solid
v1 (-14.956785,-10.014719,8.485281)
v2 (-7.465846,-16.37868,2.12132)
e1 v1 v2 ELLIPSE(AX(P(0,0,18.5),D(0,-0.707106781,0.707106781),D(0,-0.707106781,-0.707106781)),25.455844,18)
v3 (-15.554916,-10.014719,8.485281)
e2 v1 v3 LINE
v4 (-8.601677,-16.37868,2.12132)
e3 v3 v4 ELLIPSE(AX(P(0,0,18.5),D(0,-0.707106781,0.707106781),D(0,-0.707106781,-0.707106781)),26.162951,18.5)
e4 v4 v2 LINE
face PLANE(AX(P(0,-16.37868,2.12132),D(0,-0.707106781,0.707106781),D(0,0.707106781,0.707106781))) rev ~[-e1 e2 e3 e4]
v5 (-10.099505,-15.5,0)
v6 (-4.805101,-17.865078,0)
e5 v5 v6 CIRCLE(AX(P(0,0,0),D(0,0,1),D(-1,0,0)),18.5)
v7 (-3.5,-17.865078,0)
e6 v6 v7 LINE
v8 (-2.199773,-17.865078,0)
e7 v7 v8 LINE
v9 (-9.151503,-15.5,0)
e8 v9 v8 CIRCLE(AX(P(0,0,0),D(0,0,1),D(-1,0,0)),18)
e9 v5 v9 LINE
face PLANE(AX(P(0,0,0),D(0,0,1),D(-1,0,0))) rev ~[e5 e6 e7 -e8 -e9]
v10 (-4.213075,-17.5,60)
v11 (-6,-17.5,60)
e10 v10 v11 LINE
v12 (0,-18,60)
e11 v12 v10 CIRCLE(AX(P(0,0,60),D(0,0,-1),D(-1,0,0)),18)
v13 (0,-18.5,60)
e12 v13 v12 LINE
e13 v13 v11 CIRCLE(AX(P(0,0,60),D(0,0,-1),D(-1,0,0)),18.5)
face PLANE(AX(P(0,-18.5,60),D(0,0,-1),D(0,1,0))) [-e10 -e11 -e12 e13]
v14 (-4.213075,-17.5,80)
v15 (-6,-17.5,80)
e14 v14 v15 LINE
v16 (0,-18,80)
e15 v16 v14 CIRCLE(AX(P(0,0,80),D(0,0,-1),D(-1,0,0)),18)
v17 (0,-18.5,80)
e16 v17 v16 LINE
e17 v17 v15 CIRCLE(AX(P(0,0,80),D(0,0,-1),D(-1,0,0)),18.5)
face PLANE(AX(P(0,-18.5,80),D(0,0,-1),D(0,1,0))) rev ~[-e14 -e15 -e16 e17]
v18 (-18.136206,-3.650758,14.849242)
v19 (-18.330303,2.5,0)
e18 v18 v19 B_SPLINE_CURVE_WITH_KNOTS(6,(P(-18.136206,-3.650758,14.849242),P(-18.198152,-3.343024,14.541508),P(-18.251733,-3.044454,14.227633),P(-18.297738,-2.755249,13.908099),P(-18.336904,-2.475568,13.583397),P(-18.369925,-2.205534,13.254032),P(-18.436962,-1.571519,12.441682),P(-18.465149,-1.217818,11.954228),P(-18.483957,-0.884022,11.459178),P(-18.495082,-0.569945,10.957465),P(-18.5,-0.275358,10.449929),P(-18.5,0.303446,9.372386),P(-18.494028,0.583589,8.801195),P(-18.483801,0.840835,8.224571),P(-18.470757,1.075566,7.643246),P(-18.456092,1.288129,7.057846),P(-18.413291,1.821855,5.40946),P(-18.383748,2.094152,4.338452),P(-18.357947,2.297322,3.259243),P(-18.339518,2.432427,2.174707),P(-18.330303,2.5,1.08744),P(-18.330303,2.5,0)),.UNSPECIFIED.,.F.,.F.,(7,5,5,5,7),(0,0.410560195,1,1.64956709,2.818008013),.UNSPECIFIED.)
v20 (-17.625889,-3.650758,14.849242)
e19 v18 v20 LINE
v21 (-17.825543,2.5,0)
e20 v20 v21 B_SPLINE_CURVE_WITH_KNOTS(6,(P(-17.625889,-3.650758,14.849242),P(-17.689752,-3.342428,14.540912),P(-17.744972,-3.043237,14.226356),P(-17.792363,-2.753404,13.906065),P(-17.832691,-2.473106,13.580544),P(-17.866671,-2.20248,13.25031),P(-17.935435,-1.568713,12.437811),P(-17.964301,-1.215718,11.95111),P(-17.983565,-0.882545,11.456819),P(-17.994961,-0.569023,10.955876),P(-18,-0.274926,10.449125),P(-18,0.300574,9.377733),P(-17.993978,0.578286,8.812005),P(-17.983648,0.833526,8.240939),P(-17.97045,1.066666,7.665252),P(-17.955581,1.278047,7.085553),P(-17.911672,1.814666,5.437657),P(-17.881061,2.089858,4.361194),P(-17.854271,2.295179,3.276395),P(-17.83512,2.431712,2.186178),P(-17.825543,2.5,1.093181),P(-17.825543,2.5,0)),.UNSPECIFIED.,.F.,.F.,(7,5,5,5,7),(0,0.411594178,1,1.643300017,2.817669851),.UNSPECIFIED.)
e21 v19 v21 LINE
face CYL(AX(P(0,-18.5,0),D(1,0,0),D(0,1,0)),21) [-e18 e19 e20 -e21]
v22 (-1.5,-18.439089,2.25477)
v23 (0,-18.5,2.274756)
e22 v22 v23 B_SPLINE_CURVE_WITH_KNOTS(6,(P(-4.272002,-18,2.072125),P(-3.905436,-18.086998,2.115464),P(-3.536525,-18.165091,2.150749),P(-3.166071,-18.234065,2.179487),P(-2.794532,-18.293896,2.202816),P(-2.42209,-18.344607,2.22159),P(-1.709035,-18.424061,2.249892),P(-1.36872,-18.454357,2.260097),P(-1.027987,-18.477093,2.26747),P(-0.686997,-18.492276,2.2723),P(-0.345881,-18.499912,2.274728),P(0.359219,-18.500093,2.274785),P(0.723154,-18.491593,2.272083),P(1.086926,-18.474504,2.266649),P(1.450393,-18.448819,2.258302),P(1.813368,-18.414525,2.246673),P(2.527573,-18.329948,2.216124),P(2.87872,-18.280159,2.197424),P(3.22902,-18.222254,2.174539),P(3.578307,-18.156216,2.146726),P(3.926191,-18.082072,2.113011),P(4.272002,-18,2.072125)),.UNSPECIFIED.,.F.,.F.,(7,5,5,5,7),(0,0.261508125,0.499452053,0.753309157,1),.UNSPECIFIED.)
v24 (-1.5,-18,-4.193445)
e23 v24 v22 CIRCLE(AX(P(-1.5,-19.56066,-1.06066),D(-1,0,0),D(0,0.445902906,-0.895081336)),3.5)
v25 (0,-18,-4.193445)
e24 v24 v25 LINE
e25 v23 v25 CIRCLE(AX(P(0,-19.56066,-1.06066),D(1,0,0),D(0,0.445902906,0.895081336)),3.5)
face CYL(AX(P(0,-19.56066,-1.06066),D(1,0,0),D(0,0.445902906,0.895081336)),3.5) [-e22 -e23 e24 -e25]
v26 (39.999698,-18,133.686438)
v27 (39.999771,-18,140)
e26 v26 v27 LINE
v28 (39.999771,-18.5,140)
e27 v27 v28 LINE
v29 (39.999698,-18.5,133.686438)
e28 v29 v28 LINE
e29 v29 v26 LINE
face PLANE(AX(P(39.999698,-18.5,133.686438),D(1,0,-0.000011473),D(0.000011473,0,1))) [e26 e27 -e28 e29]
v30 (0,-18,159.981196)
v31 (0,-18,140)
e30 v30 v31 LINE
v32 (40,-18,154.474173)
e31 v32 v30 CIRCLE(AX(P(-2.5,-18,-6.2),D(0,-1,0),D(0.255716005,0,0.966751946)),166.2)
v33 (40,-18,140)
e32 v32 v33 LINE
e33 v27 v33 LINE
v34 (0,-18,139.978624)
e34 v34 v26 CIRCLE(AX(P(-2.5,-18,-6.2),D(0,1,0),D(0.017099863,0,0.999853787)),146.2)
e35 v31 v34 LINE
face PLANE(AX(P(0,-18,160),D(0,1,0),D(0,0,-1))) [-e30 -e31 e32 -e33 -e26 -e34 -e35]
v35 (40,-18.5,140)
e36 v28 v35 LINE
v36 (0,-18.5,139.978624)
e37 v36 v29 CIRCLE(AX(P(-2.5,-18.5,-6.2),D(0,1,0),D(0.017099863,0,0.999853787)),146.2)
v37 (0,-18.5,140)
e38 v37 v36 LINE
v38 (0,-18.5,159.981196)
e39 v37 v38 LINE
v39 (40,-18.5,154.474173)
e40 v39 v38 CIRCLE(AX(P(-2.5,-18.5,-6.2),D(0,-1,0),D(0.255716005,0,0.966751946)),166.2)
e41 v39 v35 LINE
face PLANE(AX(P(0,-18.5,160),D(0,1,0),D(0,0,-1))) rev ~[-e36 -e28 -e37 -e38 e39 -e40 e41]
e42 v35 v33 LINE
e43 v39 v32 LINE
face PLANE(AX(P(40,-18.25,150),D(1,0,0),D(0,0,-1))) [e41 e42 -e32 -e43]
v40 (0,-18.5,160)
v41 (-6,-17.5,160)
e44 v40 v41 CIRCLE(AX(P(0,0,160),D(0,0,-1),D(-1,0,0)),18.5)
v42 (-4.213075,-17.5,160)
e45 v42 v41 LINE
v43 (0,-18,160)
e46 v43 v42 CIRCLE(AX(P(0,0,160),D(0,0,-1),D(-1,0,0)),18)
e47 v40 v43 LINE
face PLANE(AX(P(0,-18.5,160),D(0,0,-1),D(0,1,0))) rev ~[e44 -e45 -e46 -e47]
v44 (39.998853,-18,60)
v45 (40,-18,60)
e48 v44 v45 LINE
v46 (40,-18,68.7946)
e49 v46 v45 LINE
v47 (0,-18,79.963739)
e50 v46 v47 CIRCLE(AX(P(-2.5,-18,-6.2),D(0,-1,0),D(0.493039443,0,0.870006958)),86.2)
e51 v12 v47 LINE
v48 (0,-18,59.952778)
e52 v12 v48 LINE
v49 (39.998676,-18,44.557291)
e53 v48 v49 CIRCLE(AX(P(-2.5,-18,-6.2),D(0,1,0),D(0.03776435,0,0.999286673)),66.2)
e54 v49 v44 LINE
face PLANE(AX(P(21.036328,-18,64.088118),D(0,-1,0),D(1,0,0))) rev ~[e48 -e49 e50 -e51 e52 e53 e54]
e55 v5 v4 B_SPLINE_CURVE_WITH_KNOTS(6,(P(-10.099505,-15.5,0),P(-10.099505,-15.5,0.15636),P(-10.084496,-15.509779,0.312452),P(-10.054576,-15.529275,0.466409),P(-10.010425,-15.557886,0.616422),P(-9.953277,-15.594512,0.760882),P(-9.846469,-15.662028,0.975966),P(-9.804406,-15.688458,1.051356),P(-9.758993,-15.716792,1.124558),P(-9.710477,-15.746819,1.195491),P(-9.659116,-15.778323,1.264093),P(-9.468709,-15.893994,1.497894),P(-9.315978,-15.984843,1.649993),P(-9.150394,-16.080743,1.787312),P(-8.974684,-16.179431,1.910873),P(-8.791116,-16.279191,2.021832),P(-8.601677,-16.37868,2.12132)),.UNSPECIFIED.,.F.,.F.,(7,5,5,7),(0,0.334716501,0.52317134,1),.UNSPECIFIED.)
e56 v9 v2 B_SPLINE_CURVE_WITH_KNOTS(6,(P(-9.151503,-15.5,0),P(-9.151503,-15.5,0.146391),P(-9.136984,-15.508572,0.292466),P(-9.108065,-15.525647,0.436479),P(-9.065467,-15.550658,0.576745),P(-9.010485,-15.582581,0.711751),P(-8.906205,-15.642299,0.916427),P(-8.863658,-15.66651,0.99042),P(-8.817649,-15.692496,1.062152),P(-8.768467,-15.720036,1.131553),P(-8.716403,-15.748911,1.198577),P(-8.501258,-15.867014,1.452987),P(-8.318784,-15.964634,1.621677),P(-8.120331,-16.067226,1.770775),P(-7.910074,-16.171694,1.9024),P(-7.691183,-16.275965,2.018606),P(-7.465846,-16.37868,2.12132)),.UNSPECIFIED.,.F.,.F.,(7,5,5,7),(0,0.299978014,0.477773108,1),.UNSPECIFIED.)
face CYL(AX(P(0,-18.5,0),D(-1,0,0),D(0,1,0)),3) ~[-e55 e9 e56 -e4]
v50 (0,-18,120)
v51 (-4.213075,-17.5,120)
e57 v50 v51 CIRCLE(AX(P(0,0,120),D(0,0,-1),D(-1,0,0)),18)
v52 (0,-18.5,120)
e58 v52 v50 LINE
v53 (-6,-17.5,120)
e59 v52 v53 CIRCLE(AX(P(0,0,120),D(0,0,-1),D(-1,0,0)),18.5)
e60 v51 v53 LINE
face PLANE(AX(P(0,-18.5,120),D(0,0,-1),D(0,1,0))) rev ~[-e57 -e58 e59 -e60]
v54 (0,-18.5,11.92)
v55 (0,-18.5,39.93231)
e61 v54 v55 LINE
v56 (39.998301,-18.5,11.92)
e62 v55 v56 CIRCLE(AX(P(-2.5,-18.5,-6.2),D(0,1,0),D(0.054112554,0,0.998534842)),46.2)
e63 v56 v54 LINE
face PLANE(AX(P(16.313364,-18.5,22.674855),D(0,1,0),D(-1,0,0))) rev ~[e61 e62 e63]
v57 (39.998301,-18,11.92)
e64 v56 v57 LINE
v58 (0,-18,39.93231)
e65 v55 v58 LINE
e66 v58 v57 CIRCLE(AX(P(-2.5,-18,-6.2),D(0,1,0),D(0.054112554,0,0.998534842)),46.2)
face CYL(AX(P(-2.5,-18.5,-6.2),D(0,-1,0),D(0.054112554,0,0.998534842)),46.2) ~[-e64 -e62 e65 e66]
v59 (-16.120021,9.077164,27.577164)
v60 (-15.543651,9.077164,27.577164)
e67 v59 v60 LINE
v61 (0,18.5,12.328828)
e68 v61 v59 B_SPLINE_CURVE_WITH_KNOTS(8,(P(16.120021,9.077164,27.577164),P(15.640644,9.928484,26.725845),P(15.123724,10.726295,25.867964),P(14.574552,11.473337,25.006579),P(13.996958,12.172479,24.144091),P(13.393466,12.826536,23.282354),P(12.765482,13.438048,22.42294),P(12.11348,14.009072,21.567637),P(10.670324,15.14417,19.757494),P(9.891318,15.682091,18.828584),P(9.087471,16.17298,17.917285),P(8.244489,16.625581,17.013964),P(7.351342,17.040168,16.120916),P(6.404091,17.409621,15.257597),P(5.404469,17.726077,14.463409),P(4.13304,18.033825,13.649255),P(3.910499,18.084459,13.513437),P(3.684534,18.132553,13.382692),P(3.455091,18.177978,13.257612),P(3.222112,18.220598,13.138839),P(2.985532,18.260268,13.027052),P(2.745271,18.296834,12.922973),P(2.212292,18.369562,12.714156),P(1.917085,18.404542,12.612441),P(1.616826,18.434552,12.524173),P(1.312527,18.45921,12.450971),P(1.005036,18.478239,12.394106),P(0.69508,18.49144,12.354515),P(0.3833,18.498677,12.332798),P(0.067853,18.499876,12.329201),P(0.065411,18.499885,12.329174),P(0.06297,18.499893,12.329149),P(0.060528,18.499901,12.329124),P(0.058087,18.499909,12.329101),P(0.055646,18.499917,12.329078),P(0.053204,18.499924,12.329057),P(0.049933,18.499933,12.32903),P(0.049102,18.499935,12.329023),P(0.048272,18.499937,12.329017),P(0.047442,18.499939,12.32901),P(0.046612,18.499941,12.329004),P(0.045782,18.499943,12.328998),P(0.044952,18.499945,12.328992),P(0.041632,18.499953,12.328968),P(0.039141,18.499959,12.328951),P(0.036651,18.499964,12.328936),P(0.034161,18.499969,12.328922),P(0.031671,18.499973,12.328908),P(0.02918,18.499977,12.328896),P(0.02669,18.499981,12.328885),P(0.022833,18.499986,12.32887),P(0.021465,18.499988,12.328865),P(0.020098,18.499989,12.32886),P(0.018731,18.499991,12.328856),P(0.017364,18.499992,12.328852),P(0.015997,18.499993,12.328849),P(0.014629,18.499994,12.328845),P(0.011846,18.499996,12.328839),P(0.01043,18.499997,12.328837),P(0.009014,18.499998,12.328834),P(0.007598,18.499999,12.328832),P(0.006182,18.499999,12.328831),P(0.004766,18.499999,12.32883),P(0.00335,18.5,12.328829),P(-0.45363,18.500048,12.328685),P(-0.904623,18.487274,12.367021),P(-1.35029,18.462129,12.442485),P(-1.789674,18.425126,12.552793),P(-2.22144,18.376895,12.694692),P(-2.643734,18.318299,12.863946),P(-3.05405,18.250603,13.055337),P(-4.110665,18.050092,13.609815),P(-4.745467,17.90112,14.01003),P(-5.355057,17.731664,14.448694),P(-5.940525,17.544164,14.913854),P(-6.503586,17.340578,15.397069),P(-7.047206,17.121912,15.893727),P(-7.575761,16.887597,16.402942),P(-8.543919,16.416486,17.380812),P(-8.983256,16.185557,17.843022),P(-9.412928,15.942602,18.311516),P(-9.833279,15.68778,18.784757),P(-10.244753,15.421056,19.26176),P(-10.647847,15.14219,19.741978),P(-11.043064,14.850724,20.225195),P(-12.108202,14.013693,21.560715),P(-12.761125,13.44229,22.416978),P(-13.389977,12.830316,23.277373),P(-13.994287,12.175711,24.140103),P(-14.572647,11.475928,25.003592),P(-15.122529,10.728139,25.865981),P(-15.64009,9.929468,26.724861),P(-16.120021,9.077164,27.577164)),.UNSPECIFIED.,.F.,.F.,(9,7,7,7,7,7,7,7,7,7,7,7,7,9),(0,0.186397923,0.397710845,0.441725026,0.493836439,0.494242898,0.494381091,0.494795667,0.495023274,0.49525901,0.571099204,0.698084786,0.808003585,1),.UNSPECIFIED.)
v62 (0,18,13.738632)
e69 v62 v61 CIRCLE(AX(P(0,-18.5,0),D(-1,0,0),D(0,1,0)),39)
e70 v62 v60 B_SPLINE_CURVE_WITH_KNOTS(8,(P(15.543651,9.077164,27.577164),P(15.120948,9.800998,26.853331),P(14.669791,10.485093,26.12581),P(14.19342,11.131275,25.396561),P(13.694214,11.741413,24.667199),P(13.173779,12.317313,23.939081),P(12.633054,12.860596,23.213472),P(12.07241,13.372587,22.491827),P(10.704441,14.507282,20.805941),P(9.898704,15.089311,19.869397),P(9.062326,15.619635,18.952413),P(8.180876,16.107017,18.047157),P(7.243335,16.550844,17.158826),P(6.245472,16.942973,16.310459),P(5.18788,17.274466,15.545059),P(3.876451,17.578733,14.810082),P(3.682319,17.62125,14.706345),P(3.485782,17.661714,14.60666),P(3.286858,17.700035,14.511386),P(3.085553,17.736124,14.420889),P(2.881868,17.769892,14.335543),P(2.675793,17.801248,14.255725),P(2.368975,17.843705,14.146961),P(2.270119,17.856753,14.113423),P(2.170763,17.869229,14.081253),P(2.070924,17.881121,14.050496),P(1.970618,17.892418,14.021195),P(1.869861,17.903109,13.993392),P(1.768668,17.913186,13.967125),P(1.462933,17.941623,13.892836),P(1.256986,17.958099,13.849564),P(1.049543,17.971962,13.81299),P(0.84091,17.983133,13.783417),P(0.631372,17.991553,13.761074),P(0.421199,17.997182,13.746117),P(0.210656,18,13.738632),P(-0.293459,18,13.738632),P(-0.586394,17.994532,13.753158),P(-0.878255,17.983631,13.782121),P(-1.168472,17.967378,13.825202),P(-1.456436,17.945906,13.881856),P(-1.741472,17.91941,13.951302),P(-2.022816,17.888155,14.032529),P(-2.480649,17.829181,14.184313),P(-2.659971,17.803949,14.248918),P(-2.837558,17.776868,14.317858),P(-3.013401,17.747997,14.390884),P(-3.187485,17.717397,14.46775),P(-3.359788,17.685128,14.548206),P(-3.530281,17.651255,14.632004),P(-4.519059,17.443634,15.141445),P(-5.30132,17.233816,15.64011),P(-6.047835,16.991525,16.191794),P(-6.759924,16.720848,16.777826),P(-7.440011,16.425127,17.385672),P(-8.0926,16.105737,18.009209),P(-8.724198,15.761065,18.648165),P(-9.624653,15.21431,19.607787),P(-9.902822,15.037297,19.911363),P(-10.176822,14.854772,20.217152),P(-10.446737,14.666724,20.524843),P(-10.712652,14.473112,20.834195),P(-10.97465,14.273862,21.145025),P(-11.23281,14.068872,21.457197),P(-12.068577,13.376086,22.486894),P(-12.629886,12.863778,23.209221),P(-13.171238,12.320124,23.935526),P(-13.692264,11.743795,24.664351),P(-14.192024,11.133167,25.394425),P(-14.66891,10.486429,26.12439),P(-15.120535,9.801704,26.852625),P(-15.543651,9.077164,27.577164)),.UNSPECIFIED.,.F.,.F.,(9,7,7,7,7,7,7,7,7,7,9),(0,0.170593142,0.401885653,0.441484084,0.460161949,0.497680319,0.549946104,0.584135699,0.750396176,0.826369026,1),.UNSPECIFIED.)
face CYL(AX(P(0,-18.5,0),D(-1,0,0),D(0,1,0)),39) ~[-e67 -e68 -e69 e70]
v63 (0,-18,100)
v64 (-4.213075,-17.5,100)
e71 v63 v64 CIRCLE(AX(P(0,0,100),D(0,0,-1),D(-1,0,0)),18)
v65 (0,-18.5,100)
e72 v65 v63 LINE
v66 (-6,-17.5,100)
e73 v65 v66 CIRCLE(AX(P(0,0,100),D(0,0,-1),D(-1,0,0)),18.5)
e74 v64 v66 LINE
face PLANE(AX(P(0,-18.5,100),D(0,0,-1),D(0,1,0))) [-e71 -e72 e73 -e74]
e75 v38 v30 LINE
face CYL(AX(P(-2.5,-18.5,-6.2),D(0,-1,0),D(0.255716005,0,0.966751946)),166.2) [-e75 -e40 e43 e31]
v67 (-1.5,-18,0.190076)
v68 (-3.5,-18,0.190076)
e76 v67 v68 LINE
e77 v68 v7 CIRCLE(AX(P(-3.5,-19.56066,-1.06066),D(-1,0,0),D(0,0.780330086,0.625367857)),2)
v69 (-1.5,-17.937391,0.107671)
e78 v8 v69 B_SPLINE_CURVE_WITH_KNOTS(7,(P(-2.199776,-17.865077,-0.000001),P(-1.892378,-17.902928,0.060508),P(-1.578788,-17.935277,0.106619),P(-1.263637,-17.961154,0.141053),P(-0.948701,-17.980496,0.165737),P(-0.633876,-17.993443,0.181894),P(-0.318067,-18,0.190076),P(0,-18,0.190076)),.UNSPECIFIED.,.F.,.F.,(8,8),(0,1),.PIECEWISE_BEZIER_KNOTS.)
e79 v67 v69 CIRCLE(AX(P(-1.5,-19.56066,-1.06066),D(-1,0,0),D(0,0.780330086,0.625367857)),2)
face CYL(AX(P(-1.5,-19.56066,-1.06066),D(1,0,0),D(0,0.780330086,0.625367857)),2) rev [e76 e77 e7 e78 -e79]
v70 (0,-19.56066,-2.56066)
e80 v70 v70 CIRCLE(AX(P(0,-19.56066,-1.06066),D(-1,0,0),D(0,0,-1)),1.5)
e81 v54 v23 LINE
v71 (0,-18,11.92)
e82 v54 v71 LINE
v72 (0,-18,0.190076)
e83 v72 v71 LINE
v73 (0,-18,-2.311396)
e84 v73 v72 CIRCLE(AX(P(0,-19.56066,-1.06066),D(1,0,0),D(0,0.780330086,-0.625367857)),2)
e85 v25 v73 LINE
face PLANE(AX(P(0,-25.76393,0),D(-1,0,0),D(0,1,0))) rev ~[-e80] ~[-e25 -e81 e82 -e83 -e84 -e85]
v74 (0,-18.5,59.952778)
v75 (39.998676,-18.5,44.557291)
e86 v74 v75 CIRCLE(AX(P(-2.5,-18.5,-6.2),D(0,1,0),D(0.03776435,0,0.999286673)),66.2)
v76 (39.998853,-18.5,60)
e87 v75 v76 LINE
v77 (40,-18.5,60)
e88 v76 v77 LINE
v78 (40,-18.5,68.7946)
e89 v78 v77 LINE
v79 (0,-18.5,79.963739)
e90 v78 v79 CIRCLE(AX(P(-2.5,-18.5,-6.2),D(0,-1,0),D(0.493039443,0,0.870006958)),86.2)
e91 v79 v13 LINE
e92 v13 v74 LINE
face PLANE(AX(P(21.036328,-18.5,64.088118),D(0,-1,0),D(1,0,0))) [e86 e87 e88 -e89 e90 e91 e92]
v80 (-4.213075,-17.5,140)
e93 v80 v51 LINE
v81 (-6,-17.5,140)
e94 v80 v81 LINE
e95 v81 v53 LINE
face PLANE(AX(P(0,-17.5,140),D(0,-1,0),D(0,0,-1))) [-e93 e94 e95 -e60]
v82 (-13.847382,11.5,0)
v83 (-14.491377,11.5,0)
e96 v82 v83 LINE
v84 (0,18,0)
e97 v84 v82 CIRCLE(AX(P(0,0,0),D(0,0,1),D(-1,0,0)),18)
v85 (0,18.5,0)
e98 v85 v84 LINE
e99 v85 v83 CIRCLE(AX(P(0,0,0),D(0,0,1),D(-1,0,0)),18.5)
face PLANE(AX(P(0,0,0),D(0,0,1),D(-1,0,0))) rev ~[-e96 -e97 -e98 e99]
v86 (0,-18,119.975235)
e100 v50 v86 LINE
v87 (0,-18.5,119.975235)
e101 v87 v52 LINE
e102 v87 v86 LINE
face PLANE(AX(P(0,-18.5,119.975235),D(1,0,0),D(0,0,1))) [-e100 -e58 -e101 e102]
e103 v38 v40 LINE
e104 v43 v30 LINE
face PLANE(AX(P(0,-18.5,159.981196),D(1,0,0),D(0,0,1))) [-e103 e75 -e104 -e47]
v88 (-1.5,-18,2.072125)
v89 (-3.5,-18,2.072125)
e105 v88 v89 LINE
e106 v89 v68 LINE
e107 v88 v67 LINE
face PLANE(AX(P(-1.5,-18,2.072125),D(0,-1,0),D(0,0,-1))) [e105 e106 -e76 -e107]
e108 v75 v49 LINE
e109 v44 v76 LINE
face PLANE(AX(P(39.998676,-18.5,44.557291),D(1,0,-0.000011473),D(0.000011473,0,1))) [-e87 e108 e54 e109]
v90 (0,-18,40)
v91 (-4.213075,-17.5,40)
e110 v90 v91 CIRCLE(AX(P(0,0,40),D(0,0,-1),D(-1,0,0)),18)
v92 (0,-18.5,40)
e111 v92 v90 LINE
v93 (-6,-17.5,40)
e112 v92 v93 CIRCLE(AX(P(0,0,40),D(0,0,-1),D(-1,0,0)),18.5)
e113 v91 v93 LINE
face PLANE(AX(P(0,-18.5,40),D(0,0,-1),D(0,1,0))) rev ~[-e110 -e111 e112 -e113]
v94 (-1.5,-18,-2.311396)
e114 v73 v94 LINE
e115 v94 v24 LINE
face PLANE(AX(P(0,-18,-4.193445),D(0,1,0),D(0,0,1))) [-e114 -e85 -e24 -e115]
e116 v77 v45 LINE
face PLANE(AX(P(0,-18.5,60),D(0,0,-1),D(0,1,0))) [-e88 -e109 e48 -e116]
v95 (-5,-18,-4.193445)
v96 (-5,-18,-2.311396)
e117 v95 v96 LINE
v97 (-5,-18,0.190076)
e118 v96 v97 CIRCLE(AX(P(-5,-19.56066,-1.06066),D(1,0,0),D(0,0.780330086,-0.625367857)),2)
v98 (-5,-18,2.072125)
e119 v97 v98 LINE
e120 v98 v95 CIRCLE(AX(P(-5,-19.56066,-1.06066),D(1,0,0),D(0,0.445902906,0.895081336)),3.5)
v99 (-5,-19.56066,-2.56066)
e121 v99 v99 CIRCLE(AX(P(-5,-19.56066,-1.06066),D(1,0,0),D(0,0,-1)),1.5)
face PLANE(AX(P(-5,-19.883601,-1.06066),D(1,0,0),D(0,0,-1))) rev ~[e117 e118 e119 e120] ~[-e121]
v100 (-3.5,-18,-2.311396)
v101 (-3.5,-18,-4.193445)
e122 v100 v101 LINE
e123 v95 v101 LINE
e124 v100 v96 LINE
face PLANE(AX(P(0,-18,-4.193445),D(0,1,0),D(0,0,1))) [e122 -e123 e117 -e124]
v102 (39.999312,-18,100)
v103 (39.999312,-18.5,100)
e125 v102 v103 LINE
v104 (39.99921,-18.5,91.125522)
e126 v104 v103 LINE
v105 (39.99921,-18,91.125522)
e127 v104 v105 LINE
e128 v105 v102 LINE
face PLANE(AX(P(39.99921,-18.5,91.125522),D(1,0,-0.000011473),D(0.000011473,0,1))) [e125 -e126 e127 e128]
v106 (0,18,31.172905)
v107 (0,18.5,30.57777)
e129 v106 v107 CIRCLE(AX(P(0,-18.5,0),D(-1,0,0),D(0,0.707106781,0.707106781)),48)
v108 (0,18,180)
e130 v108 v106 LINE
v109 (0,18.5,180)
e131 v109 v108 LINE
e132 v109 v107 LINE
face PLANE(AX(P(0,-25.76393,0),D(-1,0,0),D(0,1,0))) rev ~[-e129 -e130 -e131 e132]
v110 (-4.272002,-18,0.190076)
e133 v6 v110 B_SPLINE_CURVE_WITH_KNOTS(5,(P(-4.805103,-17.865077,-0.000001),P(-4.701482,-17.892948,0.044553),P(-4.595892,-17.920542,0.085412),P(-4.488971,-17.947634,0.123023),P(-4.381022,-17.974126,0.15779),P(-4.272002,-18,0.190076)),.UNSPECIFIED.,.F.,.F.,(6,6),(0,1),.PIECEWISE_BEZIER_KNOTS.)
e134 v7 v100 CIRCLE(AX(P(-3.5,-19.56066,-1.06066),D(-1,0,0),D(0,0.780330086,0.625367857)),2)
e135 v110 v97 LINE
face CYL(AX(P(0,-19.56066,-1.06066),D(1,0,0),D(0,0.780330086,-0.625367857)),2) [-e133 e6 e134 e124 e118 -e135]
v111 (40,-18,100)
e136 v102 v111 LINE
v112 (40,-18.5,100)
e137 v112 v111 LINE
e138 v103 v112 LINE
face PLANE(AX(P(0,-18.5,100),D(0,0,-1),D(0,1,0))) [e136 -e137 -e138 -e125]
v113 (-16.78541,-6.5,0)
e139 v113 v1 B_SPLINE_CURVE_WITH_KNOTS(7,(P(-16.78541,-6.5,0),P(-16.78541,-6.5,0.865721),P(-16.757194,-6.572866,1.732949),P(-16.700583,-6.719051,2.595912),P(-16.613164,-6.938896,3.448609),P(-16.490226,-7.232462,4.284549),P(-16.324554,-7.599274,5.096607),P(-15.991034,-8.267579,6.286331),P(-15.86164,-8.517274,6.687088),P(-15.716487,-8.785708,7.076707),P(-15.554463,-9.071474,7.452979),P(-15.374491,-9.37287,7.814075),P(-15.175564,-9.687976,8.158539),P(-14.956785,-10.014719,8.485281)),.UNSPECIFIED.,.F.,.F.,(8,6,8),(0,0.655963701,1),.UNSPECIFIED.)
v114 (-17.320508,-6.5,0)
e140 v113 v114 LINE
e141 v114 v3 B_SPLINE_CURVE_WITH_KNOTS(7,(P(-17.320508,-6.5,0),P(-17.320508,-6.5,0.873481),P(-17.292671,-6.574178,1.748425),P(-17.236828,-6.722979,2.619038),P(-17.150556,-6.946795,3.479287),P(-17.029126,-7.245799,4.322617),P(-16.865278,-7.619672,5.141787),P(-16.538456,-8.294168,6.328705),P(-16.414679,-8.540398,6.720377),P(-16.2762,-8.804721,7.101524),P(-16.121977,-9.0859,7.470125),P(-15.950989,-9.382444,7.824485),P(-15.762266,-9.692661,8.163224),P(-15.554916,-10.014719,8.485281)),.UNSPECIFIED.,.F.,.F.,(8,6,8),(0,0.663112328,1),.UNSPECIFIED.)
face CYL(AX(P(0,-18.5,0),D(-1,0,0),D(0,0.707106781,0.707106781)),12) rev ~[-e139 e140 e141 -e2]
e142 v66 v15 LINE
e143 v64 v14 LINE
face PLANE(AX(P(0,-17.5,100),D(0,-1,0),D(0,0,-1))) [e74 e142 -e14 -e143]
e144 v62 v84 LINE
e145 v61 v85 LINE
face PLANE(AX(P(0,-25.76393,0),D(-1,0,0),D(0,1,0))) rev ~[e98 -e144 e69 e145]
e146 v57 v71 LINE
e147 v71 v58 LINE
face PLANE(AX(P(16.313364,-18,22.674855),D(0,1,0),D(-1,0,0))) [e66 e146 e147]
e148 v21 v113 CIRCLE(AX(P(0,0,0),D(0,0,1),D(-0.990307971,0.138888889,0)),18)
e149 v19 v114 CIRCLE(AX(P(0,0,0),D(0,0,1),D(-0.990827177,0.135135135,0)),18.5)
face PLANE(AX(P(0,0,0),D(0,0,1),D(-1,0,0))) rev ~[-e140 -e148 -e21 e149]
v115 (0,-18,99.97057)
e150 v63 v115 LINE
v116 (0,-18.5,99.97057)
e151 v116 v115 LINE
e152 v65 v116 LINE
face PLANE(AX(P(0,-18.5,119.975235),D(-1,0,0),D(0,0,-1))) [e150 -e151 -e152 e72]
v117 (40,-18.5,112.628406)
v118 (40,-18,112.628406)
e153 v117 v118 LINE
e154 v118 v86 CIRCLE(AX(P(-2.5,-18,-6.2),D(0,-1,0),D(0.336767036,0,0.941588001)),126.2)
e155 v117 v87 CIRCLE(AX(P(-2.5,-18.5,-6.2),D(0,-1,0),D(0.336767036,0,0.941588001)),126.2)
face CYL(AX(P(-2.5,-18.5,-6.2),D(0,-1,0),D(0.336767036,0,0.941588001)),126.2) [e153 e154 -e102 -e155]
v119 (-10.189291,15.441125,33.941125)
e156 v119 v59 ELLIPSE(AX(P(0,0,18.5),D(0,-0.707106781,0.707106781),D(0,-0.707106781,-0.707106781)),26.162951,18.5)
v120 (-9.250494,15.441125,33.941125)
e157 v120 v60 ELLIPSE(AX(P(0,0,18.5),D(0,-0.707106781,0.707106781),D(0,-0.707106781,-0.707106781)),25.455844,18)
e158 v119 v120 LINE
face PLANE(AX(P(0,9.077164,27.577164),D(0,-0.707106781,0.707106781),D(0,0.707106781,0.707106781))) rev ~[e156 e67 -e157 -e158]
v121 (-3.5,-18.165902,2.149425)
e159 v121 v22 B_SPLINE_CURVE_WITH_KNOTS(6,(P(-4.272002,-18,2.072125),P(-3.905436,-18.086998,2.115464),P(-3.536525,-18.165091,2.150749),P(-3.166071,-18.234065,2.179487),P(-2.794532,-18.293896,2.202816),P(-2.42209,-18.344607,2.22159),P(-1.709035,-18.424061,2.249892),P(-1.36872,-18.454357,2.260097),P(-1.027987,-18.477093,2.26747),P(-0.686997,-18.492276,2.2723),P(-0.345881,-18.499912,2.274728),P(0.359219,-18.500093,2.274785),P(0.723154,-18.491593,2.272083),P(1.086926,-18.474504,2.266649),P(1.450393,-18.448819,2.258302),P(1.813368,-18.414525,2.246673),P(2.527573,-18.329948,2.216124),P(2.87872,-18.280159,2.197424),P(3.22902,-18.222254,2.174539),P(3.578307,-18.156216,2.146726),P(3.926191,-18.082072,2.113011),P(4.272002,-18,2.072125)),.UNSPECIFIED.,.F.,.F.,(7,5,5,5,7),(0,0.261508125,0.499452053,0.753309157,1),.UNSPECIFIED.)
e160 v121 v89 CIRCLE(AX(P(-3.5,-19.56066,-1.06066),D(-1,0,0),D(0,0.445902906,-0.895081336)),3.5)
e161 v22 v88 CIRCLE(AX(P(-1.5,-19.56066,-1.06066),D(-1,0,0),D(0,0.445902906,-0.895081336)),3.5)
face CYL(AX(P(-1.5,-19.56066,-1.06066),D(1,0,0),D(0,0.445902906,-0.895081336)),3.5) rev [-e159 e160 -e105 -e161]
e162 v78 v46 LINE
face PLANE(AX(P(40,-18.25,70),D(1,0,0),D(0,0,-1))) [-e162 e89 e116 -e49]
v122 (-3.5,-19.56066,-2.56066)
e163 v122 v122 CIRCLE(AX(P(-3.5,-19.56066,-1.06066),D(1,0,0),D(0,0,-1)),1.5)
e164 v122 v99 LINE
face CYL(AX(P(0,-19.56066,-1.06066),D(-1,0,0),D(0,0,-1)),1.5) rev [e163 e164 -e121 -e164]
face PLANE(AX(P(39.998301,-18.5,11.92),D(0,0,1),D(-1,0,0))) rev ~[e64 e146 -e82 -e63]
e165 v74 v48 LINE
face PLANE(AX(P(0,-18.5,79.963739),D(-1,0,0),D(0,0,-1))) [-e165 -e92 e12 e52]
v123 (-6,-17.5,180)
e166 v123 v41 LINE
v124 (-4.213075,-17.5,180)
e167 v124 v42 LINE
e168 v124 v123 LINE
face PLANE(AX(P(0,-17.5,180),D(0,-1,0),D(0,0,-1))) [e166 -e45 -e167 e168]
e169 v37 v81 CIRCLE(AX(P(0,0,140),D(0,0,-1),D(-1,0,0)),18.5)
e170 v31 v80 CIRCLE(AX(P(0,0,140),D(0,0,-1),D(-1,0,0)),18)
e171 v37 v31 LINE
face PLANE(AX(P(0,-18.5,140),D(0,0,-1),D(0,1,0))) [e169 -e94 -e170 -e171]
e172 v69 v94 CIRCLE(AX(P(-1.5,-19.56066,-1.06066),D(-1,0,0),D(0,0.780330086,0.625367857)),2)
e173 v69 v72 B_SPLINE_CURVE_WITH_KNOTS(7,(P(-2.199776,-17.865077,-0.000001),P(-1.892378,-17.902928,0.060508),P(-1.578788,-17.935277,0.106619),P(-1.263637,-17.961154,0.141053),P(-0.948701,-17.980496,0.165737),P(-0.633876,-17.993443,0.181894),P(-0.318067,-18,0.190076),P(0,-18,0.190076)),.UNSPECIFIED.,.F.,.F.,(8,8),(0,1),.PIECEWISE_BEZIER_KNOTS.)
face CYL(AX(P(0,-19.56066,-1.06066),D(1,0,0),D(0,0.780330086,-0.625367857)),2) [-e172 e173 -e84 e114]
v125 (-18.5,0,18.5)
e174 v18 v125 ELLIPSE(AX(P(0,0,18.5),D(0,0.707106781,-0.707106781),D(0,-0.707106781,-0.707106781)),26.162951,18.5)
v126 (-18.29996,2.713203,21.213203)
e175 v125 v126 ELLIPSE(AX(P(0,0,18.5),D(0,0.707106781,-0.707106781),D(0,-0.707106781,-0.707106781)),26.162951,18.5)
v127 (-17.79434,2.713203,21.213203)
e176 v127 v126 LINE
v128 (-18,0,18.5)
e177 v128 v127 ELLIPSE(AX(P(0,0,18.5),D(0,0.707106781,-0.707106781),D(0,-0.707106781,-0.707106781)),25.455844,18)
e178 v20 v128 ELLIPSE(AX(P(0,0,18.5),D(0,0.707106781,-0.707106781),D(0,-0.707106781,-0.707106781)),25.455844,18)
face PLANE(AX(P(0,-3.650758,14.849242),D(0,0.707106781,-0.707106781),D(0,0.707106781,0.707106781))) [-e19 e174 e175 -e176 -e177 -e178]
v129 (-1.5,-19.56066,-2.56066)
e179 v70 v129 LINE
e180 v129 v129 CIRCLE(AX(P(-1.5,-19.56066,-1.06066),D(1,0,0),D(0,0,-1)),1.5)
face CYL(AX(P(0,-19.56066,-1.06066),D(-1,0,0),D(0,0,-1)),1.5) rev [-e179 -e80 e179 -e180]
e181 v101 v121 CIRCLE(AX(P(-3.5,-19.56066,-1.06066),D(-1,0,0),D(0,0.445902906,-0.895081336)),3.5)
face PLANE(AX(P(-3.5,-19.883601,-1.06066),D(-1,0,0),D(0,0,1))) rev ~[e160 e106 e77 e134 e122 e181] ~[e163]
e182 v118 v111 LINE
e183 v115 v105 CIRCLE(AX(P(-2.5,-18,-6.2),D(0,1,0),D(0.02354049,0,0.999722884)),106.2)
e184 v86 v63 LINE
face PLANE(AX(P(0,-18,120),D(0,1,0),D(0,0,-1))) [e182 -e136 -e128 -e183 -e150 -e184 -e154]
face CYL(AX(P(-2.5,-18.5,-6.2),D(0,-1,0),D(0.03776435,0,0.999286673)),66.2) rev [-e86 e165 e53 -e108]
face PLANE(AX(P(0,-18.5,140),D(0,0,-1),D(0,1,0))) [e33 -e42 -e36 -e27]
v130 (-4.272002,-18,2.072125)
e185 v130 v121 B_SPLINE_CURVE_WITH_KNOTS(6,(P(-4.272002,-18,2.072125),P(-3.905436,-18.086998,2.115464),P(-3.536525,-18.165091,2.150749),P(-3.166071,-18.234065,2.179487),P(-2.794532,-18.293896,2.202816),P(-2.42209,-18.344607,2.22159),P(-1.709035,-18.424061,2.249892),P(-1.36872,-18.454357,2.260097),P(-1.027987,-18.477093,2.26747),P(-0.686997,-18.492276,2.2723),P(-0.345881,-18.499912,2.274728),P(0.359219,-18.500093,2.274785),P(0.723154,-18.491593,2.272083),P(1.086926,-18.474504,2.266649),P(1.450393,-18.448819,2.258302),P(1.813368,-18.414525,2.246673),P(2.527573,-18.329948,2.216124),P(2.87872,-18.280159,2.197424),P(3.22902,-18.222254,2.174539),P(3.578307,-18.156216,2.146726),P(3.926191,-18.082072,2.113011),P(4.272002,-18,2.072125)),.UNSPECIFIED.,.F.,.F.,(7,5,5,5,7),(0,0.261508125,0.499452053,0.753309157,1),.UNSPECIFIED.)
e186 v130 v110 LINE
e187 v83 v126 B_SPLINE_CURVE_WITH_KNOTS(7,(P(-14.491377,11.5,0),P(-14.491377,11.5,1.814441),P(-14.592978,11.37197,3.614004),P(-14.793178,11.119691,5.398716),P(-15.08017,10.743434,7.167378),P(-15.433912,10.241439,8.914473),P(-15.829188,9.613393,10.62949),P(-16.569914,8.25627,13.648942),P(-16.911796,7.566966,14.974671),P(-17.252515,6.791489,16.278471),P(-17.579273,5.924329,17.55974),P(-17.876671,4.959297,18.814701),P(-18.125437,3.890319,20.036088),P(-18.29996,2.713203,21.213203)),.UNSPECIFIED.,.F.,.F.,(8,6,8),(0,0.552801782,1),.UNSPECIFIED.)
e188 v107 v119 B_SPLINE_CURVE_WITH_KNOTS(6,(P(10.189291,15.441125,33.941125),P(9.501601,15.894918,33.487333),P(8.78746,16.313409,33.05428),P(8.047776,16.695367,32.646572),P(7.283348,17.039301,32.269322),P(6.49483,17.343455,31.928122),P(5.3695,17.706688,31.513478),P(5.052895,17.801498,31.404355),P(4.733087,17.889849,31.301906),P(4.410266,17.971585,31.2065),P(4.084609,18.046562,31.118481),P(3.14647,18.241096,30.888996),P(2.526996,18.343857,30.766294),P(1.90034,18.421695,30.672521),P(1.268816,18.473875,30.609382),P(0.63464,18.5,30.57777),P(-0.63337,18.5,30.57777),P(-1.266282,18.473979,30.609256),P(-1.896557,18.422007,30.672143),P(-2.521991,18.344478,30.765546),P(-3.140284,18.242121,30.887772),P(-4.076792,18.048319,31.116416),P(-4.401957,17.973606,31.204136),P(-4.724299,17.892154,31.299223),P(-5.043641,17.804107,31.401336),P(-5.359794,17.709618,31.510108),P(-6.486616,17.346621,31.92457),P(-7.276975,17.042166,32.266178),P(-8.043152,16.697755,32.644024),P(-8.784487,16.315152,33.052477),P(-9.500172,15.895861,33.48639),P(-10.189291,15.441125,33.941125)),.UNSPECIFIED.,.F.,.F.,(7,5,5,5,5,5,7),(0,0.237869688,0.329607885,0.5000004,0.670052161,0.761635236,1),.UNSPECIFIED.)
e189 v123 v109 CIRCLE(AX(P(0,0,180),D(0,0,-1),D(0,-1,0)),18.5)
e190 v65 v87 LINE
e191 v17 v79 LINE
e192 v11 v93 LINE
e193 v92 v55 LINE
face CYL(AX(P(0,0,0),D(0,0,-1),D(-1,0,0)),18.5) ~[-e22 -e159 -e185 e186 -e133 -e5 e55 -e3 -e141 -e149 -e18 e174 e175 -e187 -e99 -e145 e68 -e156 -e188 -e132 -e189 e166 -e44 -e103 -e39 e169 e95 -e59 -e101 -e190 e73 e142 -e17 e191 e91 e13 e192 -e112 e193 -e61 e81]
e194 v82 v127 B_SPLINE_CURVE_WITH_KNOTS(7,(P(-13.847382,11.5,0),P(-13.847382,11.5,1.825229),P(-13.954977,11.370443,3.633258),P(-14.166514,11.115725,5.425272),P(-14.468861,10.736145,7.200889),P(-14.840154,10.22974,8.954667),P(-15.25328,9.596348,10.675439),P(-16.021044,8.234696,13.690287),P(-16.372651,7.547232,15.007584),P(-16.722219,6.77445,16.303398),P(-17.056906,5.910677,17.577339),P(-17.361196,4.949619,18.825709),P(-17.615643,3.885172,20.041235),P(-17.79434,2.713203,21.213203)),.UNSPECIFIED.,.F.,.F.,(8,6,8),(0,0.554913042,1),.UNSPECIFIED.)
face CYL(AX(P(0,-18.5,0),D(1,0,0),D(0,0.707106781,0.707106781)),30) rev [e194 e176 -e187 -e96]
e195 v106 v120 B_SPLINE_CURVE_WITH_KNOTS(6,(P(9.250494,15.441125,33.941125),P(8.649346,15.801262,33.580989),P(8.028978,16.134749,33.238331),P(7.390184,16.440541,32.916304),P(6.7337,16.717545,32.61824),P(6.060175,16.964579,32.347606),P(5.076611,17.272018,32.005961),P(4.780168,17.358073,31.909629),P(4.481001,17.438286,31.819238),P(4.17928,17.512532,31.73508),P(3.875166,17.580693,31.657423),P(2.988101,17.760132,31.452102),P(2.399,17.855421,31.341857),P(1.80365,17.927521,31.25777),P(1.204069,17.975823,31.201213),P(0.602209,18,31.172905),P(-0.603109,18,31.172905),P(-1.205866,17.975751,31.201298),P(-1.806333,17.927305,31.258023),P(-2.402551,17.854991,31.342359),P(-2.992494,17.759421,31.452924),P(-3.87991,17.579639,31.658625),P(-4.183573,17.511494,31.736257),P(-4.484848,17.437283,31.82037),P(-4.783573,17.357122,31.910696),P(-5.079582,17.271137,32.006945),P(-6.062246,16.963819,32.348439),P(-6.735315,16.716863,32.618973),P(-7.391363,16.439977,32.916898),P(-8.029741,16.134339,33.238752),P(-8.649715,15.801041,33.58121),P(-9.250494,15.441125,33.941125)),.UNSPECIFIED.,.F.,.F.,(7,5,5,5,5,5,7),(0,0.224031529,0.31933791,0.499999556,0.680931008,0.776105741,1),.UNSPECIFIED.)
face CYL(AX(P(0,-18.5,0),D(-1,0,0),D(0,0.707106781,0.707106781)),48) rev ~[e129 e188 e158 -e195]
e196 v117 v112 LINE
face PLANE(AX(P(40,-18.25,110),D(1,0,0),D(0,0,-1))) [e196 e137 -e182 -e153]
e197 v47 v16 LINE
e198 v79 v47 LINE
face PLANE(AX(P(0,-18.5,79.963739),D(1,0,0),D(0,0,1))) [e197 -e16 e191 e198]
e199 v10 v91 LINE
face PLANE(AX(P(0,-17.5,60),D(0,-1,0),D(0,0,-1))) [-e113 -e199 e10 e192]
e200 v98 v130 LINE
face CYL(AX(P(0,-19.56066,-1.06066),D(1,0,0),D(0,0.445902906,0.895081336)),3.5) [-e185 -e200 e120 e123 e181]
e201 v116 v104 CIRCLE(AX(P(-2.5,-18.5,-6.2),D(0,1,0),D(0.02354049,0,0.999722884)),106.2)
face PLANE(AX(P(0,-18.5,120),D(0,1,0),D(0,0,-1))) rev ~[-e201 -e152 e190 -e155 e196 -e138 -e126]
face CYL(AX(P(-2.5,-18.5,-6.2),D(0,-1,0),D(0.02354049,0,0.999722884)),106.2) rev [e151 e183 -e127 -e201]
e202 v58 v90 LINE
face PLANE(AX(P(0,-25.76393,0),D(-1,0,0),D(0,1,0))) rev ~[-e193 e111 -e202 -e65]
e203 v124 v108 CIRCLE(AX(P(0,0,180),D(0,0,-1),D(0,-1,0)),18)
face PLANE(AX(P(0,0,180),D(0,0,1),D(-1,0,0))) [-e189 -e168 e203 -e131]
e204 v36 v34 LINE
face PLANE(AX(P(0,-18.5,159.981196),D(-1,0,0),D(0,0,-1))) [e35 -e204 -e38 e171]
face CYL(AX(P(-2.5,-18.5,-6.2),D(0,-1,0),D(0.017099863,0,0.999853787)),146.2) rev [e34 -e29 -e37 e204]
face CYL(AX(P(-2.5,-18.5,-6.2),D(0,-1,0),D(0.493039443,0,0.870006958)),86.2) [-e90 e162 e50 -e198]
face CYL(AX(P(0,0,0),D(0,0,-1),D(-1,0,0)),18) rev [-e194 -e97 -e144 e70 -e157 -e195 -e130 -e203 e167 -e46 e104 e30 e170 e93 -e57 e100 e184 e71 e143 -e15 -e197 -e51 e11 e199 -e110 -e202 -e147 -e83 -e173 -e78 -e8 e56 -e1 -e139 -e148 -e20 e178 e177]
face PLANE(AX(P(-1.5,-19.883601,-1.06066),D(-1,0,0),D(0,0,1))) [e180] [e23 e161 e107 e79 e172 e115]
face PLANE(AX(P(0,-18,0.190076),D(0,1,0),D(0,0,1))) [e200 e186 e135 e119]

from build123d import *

# Parameters (mm, degrees)
SKETCH_1_R           = 18.5
SKETCH_1_R_2         = 18
EXTRUDE_1_DEPTH      = 180
CUT_EXTRUDE_1_DEPTH  = 30
SKETCH_5_R           = 1.5
EXTRUDE_2_DEPTH      = 5
SKETCH_8_R           = 1.5
CUT_EXTRUDE_2_DEPTH  = 2
SKETCH_9_R           = 1.5
CUT_EXTRUDE_3_DEPTH  = 2
SKETCH_12_W          = 21.543450216
SKETCH_12_H          = 50.101047014
CUT_EXTRUDE_4_DEPTH  = 201
SKETCH_13_W          = 20
SKETCH_13_H          = 0.5
EXTRUDE_3_DEPTH      = 40
SKETCH_14_W          = 20
SKETCH_14_H          = 1
CUT_EXTRUDE_5_DEPTH  = 40
EXTRUDE_4_DEPTH      = 0.5
CUT_EXTRUDE_25_DEPTH = 0.5
CUT_EXTRUDE_26_DEPTH = 0.5
CUT_EXTRUDE_27_DEPTH = 0.5


with BuildPart() as part:
    # 草图1 → 凸台-拉伸1 (new body)
    with BuildSketch(Plane.XY):
        with Locations(Location((0, 0, 0), (0, 0, 180))):
            Circle(SKETCH_1_R)
        with Locations(Location((0, 0, 0), (0, 0, 180))):
            Circle(SKETCH_1_R_2, mode=Mode.SUBTRACT)
    extrude(amount=EXTRUDE_1_DEPTH)

    # 草图4 → 切除-拉伸1 (cut, symmetric)
    with BuildSketch(Plane(origin=(0, 0, 0), x_dir=(0, 0, -1), z_dir=(1, 0, 0))):
        with BuildLine():
            Line((-2.121320344, -16.378679656), (-8.485281374, -10.014718626))
            ThreePointArc((-8.485281374, -10.014718626), (-4.592201188, -7.41344561), (0, -6.5))
            Line((0, -6.5), (0, -15.5))
            ThreePointArc((0, -15.5), (-1.148050297, -15.728361402), (-2.121320344, -16.378679656))
        make_face()
        with BuildLine():
            Line((-23.744748589, 23.215547635), (0, 23.215547635))
            Line((0, 23.215547635), (0, 20.5))
            ThreePointArc((0, 20.5), (-14.924653862, 17.531301768), (-27.577164466, 9.077164466))
            Line((-27.577164466, 9.077164466), (-33.941125497, 15.441125497))
            ThreePointArc((-33.941125497, 15.441125497), (-29.103701262, 19.670336295), (-23.744748589, 23.215547635))
        make_face()
        with BuildLine():
            Line((-14.849242405, -3.650757595), (-21.213203436, 2.713203436))
            ThreePointArc((-21.213203436, 2.713203436), (-11.480502971, 9.216385975), (0, 11.5))
            Line((0, 11.5), (0, 2.5))
            ThreePointArc((0, 2.5), (-8.03635208, 0.901470183), (-14.849242405, -3.650757595))
        make_face()
    extrude(amount=CUT_EXTRUDE_1_DEPTH, both=True, mode=Mode.SUBTRACT)

    # 草图5 → 凸台-拉伸2 (add, symmetric)
    with BuildSketch(Plane(origin=(0, 0, 0), x_dir=(0, 0, -1), z_dir=(1, 0, 0))):
        with BuildLine():
            Line((-0.190075543, -18), (-2.072124505, -18))
            ThreePointArc((-2.072124505, -18), (1.060660172, -23.060660172), (4.193444848, -18))
            Line((4.193444848, -18), (2.311395887, -18))
            ThreePointArc((2.311395887, -18), (1.060660172, -17.560660172), (-0.190075543, -18))
        make_face()
        with Locations((1.060660172, -19.560660172)):
            Circle(SKETCH_5_R, mode=Mode.SUBTRACT)
    extrude(amount=EXTRUDE_2_DEPTH, both=True)

    # 草图8 → 切除-拉伸2 (cut)
    with BuildSketch(Plane(origin=(3.5, 0, 0), x_dir=(0, 0, -1), z_dir=(1, 0, 0))):
        with BuildLine():
            Line((-0.190075543, -18), (-2.072124505, -18))
            ThreePointArc((-2.072124505, -18), (1.060660172, -23.060660172), (4.193444848, -18))
            Line((4.193444848, -18), (2.311395887, -18))
            ThreePointArc((2.311395887, -18), (1.060660172, -17.560660172), (-0.190075543, -18))
        make_face()
        with Locations((1.060660172, -19.560660172)):
            Circle(SKETCH_8_R, mode=Mode.SUBTRACT)
    extrude(amount=-CUT_EXTRUDE_2_DEPTH, mode=Mode.SUBTRACT)

    # 草图9 → 切除-拉伸3 (cut)
    with BuildSketch(Plane(origin=(-1.5, 0, 0), x_dir=(0, 0, -1), z_dir=(1, 0, 0))):
        with BuildLine():
            Line((-2.072124505, -18), (-0.190075543, -18))
            ThreePointArc((-0.190075543, -18), (1.060660172, -17.560660172), (2.311395887, -18))
            Line((2.311395887, -18), (4.193444848, -18))
            ThreePointArc((4.193444848, -18), (1.060660172, -23.060660172), (-2.072124505, -18))
        make_face()
        with Locations((1.060660172, -19.560660172)):
            Circle(SKETCH_9_R, mode=Mode.SUBTRACT)
    extrude(amount=-CUT_EXTRUDE_3_DEPTH, mode=Mode.SUBTRACT)

    # 草图12 → 切除-拉伸4 (cut, symmetric)
    with BuildSketch(Plane(origin=(0, 0, 0), x_dir=(-1, 0, 0), z_dir=(0, 0, -1))):
        with Locations((-10.771725108, -0.713406874)):
            Rectangle(SKETCH_12_W, SKETCH_12_H)
    extrude(amount=CUT_EXTRUDE_4_DEPTH, both=True, mode=Mode.SUBTRACT)

    # 草图13 → 凸台-拉伸3 (add)
    with BuildSketch(Plane(origin=(0, 0, 0), x_dir=(0, 0, -1), z_dir=(1, 0, 0))):
        with Locations((-110, -18.25)):
            Rectangle(SKETCH_13_W, SKETCH_13_H)
        with Locations((-70, -18.25)):
            Rectangle(SKETCH_13_W, SKETCH_13_H)
        with Locations((-150, -18.25)):
            Rectangle(SKETCH_13_W, SKETCH_13_H)
    extrude(amount=EXTRUDE_3_DEPTH)

    # 草图14 → 切除-拉伸5 (cut)
    with BuildSketch(Plane(origin=(0, 0, 0), x_dir=(0, 0, -1), z_dir=(1, 0, 0))):
        with Locations((-90, -18)):
            Rectangle(SKETCH_14_W, SKETCH_14_H)
        with Locations((-50, -18)):
            Rectangle(SKETCH_14_W, SKETCH_14_H)
        with Locations((-130, -18)):
            Rectangle(SKETCH_14_W, SKETCH_14_H)
        with Locations((-170, -18)):
            Rectangle(SKETCH_14_W, SKETCH_14_H)
    extrude(amount=-CUT_EXTRUDE_5_DEPTH, mode=Mode.SUBTRACT)

    # 草图16 → 凸台-拉伸4 (add)
    with BuildSketch(Plane.XZ.offset(18.5)):
        with BuildLine():
            Line((39.998675576, 44.557290849), (39.998953647, 68.795192772))
            ThreePointArc((39.998953647, 68.795192772), (20.682117379, 76.824270149), (0, 79.963739473))
            Line((0, 79.963739473), (0, 59.952777719))
            ThreePointArc((0, 59.952777719), (21.279727814, 55.581587428), (39.998675576, 44.557290849))
        make_face()
        with BuildLine():
            Line((0, 11.92), (0, 39.932309719))
            ThreePointArc((0, 39.932309719), (24.002531018, 31.642513786), (39.998301143, 11.92))
            Line((39.998301143, 11.92), (0, 11.92))
        make_face()
        with BuildLine():
            Line((0, 159.981196289), (0, 139.978623608))
            ThreePointArc((0, 139.978623608), (20.218739097, 138.224024642), (39.999698116, 133.686438442))
            Line((39.999698116, 133.686438442), (39.999936605, 154.474190176))
            ThreePointArc((39.999936605, 154.474190176), (20.167826378, 158.446924196), (0, 159.981196289))
        make_face()
        with BuildLine():
            Line((39.999209833, 91.125521645), (39.999456529, 112.628600071))
            ThreePointArc((39.999456529, 112.628600071), (20.297610274, 117.92376471), (0, 119.975235288))
            Line((0, 119.975235288), (0, 99.97057031))
            ThreePointArc((0, 99.97057031), (20.430131767, 97.494980868), (39.999209833, 91.125521645))
        make_face()
    extrude(amount=-EXTRUDE_4_DEPTH)

    # 草图20 → 切除-拉伸25 (cut)
    with BuildSketch(Plane.XZ.offset(18.5)):
        with BuildLine():
            Line((40, 80), (40, 68.794599806))
            ThreePointArc((40, 68.794599806), (20.682696569, 76.824108425), (0, 79.963739473))
            Line((0, 79.963739473), (0, 80))
            Line((0, 80), (40, 80))
        make_face()
    extrude(amount=-CUT_EXTRUDE_25_DEPTH, mode=Mode.SUBTRACT)

    # 草图22 → 切除-拉伸26 (cut)
    with BuildSketch(Plane.XZ.offset(18.5)):
        with BuildLine():
            Line((40, 120), (40, 112.628405695))
            ThreePointArc((40, 112.628405695), (20.297894119, 117.923712576), (0, 119.975235288))
            Line((0, 119.975235288), (0, 120))
            Line((0, 120), (40, 120))
        make_face()
    extrude(amount=-CUT_EXTRUDE_26_DEPTH, mode=Mode.SUBTRACT)

    # 草图23 → 切除-拉伸27 (cut)
    with BuildSketch(Plane.XZ.offset(18.5)):
        with BuildLine():
            Line((40, 160), (40, 154.474173407))
            ThreePointArc((40, 154.474173407), (20.167858859, 158.446919724), (0, 159.981196289))
            Line((0, 159.981196289), (0, 160))
            Line((0, 160), (40, 160))
        make_face()
    extrude(amount=-CUT_EXTRUDE_27_DEPTH, mode=Mode.SUBTRACT)


solid = part.part
